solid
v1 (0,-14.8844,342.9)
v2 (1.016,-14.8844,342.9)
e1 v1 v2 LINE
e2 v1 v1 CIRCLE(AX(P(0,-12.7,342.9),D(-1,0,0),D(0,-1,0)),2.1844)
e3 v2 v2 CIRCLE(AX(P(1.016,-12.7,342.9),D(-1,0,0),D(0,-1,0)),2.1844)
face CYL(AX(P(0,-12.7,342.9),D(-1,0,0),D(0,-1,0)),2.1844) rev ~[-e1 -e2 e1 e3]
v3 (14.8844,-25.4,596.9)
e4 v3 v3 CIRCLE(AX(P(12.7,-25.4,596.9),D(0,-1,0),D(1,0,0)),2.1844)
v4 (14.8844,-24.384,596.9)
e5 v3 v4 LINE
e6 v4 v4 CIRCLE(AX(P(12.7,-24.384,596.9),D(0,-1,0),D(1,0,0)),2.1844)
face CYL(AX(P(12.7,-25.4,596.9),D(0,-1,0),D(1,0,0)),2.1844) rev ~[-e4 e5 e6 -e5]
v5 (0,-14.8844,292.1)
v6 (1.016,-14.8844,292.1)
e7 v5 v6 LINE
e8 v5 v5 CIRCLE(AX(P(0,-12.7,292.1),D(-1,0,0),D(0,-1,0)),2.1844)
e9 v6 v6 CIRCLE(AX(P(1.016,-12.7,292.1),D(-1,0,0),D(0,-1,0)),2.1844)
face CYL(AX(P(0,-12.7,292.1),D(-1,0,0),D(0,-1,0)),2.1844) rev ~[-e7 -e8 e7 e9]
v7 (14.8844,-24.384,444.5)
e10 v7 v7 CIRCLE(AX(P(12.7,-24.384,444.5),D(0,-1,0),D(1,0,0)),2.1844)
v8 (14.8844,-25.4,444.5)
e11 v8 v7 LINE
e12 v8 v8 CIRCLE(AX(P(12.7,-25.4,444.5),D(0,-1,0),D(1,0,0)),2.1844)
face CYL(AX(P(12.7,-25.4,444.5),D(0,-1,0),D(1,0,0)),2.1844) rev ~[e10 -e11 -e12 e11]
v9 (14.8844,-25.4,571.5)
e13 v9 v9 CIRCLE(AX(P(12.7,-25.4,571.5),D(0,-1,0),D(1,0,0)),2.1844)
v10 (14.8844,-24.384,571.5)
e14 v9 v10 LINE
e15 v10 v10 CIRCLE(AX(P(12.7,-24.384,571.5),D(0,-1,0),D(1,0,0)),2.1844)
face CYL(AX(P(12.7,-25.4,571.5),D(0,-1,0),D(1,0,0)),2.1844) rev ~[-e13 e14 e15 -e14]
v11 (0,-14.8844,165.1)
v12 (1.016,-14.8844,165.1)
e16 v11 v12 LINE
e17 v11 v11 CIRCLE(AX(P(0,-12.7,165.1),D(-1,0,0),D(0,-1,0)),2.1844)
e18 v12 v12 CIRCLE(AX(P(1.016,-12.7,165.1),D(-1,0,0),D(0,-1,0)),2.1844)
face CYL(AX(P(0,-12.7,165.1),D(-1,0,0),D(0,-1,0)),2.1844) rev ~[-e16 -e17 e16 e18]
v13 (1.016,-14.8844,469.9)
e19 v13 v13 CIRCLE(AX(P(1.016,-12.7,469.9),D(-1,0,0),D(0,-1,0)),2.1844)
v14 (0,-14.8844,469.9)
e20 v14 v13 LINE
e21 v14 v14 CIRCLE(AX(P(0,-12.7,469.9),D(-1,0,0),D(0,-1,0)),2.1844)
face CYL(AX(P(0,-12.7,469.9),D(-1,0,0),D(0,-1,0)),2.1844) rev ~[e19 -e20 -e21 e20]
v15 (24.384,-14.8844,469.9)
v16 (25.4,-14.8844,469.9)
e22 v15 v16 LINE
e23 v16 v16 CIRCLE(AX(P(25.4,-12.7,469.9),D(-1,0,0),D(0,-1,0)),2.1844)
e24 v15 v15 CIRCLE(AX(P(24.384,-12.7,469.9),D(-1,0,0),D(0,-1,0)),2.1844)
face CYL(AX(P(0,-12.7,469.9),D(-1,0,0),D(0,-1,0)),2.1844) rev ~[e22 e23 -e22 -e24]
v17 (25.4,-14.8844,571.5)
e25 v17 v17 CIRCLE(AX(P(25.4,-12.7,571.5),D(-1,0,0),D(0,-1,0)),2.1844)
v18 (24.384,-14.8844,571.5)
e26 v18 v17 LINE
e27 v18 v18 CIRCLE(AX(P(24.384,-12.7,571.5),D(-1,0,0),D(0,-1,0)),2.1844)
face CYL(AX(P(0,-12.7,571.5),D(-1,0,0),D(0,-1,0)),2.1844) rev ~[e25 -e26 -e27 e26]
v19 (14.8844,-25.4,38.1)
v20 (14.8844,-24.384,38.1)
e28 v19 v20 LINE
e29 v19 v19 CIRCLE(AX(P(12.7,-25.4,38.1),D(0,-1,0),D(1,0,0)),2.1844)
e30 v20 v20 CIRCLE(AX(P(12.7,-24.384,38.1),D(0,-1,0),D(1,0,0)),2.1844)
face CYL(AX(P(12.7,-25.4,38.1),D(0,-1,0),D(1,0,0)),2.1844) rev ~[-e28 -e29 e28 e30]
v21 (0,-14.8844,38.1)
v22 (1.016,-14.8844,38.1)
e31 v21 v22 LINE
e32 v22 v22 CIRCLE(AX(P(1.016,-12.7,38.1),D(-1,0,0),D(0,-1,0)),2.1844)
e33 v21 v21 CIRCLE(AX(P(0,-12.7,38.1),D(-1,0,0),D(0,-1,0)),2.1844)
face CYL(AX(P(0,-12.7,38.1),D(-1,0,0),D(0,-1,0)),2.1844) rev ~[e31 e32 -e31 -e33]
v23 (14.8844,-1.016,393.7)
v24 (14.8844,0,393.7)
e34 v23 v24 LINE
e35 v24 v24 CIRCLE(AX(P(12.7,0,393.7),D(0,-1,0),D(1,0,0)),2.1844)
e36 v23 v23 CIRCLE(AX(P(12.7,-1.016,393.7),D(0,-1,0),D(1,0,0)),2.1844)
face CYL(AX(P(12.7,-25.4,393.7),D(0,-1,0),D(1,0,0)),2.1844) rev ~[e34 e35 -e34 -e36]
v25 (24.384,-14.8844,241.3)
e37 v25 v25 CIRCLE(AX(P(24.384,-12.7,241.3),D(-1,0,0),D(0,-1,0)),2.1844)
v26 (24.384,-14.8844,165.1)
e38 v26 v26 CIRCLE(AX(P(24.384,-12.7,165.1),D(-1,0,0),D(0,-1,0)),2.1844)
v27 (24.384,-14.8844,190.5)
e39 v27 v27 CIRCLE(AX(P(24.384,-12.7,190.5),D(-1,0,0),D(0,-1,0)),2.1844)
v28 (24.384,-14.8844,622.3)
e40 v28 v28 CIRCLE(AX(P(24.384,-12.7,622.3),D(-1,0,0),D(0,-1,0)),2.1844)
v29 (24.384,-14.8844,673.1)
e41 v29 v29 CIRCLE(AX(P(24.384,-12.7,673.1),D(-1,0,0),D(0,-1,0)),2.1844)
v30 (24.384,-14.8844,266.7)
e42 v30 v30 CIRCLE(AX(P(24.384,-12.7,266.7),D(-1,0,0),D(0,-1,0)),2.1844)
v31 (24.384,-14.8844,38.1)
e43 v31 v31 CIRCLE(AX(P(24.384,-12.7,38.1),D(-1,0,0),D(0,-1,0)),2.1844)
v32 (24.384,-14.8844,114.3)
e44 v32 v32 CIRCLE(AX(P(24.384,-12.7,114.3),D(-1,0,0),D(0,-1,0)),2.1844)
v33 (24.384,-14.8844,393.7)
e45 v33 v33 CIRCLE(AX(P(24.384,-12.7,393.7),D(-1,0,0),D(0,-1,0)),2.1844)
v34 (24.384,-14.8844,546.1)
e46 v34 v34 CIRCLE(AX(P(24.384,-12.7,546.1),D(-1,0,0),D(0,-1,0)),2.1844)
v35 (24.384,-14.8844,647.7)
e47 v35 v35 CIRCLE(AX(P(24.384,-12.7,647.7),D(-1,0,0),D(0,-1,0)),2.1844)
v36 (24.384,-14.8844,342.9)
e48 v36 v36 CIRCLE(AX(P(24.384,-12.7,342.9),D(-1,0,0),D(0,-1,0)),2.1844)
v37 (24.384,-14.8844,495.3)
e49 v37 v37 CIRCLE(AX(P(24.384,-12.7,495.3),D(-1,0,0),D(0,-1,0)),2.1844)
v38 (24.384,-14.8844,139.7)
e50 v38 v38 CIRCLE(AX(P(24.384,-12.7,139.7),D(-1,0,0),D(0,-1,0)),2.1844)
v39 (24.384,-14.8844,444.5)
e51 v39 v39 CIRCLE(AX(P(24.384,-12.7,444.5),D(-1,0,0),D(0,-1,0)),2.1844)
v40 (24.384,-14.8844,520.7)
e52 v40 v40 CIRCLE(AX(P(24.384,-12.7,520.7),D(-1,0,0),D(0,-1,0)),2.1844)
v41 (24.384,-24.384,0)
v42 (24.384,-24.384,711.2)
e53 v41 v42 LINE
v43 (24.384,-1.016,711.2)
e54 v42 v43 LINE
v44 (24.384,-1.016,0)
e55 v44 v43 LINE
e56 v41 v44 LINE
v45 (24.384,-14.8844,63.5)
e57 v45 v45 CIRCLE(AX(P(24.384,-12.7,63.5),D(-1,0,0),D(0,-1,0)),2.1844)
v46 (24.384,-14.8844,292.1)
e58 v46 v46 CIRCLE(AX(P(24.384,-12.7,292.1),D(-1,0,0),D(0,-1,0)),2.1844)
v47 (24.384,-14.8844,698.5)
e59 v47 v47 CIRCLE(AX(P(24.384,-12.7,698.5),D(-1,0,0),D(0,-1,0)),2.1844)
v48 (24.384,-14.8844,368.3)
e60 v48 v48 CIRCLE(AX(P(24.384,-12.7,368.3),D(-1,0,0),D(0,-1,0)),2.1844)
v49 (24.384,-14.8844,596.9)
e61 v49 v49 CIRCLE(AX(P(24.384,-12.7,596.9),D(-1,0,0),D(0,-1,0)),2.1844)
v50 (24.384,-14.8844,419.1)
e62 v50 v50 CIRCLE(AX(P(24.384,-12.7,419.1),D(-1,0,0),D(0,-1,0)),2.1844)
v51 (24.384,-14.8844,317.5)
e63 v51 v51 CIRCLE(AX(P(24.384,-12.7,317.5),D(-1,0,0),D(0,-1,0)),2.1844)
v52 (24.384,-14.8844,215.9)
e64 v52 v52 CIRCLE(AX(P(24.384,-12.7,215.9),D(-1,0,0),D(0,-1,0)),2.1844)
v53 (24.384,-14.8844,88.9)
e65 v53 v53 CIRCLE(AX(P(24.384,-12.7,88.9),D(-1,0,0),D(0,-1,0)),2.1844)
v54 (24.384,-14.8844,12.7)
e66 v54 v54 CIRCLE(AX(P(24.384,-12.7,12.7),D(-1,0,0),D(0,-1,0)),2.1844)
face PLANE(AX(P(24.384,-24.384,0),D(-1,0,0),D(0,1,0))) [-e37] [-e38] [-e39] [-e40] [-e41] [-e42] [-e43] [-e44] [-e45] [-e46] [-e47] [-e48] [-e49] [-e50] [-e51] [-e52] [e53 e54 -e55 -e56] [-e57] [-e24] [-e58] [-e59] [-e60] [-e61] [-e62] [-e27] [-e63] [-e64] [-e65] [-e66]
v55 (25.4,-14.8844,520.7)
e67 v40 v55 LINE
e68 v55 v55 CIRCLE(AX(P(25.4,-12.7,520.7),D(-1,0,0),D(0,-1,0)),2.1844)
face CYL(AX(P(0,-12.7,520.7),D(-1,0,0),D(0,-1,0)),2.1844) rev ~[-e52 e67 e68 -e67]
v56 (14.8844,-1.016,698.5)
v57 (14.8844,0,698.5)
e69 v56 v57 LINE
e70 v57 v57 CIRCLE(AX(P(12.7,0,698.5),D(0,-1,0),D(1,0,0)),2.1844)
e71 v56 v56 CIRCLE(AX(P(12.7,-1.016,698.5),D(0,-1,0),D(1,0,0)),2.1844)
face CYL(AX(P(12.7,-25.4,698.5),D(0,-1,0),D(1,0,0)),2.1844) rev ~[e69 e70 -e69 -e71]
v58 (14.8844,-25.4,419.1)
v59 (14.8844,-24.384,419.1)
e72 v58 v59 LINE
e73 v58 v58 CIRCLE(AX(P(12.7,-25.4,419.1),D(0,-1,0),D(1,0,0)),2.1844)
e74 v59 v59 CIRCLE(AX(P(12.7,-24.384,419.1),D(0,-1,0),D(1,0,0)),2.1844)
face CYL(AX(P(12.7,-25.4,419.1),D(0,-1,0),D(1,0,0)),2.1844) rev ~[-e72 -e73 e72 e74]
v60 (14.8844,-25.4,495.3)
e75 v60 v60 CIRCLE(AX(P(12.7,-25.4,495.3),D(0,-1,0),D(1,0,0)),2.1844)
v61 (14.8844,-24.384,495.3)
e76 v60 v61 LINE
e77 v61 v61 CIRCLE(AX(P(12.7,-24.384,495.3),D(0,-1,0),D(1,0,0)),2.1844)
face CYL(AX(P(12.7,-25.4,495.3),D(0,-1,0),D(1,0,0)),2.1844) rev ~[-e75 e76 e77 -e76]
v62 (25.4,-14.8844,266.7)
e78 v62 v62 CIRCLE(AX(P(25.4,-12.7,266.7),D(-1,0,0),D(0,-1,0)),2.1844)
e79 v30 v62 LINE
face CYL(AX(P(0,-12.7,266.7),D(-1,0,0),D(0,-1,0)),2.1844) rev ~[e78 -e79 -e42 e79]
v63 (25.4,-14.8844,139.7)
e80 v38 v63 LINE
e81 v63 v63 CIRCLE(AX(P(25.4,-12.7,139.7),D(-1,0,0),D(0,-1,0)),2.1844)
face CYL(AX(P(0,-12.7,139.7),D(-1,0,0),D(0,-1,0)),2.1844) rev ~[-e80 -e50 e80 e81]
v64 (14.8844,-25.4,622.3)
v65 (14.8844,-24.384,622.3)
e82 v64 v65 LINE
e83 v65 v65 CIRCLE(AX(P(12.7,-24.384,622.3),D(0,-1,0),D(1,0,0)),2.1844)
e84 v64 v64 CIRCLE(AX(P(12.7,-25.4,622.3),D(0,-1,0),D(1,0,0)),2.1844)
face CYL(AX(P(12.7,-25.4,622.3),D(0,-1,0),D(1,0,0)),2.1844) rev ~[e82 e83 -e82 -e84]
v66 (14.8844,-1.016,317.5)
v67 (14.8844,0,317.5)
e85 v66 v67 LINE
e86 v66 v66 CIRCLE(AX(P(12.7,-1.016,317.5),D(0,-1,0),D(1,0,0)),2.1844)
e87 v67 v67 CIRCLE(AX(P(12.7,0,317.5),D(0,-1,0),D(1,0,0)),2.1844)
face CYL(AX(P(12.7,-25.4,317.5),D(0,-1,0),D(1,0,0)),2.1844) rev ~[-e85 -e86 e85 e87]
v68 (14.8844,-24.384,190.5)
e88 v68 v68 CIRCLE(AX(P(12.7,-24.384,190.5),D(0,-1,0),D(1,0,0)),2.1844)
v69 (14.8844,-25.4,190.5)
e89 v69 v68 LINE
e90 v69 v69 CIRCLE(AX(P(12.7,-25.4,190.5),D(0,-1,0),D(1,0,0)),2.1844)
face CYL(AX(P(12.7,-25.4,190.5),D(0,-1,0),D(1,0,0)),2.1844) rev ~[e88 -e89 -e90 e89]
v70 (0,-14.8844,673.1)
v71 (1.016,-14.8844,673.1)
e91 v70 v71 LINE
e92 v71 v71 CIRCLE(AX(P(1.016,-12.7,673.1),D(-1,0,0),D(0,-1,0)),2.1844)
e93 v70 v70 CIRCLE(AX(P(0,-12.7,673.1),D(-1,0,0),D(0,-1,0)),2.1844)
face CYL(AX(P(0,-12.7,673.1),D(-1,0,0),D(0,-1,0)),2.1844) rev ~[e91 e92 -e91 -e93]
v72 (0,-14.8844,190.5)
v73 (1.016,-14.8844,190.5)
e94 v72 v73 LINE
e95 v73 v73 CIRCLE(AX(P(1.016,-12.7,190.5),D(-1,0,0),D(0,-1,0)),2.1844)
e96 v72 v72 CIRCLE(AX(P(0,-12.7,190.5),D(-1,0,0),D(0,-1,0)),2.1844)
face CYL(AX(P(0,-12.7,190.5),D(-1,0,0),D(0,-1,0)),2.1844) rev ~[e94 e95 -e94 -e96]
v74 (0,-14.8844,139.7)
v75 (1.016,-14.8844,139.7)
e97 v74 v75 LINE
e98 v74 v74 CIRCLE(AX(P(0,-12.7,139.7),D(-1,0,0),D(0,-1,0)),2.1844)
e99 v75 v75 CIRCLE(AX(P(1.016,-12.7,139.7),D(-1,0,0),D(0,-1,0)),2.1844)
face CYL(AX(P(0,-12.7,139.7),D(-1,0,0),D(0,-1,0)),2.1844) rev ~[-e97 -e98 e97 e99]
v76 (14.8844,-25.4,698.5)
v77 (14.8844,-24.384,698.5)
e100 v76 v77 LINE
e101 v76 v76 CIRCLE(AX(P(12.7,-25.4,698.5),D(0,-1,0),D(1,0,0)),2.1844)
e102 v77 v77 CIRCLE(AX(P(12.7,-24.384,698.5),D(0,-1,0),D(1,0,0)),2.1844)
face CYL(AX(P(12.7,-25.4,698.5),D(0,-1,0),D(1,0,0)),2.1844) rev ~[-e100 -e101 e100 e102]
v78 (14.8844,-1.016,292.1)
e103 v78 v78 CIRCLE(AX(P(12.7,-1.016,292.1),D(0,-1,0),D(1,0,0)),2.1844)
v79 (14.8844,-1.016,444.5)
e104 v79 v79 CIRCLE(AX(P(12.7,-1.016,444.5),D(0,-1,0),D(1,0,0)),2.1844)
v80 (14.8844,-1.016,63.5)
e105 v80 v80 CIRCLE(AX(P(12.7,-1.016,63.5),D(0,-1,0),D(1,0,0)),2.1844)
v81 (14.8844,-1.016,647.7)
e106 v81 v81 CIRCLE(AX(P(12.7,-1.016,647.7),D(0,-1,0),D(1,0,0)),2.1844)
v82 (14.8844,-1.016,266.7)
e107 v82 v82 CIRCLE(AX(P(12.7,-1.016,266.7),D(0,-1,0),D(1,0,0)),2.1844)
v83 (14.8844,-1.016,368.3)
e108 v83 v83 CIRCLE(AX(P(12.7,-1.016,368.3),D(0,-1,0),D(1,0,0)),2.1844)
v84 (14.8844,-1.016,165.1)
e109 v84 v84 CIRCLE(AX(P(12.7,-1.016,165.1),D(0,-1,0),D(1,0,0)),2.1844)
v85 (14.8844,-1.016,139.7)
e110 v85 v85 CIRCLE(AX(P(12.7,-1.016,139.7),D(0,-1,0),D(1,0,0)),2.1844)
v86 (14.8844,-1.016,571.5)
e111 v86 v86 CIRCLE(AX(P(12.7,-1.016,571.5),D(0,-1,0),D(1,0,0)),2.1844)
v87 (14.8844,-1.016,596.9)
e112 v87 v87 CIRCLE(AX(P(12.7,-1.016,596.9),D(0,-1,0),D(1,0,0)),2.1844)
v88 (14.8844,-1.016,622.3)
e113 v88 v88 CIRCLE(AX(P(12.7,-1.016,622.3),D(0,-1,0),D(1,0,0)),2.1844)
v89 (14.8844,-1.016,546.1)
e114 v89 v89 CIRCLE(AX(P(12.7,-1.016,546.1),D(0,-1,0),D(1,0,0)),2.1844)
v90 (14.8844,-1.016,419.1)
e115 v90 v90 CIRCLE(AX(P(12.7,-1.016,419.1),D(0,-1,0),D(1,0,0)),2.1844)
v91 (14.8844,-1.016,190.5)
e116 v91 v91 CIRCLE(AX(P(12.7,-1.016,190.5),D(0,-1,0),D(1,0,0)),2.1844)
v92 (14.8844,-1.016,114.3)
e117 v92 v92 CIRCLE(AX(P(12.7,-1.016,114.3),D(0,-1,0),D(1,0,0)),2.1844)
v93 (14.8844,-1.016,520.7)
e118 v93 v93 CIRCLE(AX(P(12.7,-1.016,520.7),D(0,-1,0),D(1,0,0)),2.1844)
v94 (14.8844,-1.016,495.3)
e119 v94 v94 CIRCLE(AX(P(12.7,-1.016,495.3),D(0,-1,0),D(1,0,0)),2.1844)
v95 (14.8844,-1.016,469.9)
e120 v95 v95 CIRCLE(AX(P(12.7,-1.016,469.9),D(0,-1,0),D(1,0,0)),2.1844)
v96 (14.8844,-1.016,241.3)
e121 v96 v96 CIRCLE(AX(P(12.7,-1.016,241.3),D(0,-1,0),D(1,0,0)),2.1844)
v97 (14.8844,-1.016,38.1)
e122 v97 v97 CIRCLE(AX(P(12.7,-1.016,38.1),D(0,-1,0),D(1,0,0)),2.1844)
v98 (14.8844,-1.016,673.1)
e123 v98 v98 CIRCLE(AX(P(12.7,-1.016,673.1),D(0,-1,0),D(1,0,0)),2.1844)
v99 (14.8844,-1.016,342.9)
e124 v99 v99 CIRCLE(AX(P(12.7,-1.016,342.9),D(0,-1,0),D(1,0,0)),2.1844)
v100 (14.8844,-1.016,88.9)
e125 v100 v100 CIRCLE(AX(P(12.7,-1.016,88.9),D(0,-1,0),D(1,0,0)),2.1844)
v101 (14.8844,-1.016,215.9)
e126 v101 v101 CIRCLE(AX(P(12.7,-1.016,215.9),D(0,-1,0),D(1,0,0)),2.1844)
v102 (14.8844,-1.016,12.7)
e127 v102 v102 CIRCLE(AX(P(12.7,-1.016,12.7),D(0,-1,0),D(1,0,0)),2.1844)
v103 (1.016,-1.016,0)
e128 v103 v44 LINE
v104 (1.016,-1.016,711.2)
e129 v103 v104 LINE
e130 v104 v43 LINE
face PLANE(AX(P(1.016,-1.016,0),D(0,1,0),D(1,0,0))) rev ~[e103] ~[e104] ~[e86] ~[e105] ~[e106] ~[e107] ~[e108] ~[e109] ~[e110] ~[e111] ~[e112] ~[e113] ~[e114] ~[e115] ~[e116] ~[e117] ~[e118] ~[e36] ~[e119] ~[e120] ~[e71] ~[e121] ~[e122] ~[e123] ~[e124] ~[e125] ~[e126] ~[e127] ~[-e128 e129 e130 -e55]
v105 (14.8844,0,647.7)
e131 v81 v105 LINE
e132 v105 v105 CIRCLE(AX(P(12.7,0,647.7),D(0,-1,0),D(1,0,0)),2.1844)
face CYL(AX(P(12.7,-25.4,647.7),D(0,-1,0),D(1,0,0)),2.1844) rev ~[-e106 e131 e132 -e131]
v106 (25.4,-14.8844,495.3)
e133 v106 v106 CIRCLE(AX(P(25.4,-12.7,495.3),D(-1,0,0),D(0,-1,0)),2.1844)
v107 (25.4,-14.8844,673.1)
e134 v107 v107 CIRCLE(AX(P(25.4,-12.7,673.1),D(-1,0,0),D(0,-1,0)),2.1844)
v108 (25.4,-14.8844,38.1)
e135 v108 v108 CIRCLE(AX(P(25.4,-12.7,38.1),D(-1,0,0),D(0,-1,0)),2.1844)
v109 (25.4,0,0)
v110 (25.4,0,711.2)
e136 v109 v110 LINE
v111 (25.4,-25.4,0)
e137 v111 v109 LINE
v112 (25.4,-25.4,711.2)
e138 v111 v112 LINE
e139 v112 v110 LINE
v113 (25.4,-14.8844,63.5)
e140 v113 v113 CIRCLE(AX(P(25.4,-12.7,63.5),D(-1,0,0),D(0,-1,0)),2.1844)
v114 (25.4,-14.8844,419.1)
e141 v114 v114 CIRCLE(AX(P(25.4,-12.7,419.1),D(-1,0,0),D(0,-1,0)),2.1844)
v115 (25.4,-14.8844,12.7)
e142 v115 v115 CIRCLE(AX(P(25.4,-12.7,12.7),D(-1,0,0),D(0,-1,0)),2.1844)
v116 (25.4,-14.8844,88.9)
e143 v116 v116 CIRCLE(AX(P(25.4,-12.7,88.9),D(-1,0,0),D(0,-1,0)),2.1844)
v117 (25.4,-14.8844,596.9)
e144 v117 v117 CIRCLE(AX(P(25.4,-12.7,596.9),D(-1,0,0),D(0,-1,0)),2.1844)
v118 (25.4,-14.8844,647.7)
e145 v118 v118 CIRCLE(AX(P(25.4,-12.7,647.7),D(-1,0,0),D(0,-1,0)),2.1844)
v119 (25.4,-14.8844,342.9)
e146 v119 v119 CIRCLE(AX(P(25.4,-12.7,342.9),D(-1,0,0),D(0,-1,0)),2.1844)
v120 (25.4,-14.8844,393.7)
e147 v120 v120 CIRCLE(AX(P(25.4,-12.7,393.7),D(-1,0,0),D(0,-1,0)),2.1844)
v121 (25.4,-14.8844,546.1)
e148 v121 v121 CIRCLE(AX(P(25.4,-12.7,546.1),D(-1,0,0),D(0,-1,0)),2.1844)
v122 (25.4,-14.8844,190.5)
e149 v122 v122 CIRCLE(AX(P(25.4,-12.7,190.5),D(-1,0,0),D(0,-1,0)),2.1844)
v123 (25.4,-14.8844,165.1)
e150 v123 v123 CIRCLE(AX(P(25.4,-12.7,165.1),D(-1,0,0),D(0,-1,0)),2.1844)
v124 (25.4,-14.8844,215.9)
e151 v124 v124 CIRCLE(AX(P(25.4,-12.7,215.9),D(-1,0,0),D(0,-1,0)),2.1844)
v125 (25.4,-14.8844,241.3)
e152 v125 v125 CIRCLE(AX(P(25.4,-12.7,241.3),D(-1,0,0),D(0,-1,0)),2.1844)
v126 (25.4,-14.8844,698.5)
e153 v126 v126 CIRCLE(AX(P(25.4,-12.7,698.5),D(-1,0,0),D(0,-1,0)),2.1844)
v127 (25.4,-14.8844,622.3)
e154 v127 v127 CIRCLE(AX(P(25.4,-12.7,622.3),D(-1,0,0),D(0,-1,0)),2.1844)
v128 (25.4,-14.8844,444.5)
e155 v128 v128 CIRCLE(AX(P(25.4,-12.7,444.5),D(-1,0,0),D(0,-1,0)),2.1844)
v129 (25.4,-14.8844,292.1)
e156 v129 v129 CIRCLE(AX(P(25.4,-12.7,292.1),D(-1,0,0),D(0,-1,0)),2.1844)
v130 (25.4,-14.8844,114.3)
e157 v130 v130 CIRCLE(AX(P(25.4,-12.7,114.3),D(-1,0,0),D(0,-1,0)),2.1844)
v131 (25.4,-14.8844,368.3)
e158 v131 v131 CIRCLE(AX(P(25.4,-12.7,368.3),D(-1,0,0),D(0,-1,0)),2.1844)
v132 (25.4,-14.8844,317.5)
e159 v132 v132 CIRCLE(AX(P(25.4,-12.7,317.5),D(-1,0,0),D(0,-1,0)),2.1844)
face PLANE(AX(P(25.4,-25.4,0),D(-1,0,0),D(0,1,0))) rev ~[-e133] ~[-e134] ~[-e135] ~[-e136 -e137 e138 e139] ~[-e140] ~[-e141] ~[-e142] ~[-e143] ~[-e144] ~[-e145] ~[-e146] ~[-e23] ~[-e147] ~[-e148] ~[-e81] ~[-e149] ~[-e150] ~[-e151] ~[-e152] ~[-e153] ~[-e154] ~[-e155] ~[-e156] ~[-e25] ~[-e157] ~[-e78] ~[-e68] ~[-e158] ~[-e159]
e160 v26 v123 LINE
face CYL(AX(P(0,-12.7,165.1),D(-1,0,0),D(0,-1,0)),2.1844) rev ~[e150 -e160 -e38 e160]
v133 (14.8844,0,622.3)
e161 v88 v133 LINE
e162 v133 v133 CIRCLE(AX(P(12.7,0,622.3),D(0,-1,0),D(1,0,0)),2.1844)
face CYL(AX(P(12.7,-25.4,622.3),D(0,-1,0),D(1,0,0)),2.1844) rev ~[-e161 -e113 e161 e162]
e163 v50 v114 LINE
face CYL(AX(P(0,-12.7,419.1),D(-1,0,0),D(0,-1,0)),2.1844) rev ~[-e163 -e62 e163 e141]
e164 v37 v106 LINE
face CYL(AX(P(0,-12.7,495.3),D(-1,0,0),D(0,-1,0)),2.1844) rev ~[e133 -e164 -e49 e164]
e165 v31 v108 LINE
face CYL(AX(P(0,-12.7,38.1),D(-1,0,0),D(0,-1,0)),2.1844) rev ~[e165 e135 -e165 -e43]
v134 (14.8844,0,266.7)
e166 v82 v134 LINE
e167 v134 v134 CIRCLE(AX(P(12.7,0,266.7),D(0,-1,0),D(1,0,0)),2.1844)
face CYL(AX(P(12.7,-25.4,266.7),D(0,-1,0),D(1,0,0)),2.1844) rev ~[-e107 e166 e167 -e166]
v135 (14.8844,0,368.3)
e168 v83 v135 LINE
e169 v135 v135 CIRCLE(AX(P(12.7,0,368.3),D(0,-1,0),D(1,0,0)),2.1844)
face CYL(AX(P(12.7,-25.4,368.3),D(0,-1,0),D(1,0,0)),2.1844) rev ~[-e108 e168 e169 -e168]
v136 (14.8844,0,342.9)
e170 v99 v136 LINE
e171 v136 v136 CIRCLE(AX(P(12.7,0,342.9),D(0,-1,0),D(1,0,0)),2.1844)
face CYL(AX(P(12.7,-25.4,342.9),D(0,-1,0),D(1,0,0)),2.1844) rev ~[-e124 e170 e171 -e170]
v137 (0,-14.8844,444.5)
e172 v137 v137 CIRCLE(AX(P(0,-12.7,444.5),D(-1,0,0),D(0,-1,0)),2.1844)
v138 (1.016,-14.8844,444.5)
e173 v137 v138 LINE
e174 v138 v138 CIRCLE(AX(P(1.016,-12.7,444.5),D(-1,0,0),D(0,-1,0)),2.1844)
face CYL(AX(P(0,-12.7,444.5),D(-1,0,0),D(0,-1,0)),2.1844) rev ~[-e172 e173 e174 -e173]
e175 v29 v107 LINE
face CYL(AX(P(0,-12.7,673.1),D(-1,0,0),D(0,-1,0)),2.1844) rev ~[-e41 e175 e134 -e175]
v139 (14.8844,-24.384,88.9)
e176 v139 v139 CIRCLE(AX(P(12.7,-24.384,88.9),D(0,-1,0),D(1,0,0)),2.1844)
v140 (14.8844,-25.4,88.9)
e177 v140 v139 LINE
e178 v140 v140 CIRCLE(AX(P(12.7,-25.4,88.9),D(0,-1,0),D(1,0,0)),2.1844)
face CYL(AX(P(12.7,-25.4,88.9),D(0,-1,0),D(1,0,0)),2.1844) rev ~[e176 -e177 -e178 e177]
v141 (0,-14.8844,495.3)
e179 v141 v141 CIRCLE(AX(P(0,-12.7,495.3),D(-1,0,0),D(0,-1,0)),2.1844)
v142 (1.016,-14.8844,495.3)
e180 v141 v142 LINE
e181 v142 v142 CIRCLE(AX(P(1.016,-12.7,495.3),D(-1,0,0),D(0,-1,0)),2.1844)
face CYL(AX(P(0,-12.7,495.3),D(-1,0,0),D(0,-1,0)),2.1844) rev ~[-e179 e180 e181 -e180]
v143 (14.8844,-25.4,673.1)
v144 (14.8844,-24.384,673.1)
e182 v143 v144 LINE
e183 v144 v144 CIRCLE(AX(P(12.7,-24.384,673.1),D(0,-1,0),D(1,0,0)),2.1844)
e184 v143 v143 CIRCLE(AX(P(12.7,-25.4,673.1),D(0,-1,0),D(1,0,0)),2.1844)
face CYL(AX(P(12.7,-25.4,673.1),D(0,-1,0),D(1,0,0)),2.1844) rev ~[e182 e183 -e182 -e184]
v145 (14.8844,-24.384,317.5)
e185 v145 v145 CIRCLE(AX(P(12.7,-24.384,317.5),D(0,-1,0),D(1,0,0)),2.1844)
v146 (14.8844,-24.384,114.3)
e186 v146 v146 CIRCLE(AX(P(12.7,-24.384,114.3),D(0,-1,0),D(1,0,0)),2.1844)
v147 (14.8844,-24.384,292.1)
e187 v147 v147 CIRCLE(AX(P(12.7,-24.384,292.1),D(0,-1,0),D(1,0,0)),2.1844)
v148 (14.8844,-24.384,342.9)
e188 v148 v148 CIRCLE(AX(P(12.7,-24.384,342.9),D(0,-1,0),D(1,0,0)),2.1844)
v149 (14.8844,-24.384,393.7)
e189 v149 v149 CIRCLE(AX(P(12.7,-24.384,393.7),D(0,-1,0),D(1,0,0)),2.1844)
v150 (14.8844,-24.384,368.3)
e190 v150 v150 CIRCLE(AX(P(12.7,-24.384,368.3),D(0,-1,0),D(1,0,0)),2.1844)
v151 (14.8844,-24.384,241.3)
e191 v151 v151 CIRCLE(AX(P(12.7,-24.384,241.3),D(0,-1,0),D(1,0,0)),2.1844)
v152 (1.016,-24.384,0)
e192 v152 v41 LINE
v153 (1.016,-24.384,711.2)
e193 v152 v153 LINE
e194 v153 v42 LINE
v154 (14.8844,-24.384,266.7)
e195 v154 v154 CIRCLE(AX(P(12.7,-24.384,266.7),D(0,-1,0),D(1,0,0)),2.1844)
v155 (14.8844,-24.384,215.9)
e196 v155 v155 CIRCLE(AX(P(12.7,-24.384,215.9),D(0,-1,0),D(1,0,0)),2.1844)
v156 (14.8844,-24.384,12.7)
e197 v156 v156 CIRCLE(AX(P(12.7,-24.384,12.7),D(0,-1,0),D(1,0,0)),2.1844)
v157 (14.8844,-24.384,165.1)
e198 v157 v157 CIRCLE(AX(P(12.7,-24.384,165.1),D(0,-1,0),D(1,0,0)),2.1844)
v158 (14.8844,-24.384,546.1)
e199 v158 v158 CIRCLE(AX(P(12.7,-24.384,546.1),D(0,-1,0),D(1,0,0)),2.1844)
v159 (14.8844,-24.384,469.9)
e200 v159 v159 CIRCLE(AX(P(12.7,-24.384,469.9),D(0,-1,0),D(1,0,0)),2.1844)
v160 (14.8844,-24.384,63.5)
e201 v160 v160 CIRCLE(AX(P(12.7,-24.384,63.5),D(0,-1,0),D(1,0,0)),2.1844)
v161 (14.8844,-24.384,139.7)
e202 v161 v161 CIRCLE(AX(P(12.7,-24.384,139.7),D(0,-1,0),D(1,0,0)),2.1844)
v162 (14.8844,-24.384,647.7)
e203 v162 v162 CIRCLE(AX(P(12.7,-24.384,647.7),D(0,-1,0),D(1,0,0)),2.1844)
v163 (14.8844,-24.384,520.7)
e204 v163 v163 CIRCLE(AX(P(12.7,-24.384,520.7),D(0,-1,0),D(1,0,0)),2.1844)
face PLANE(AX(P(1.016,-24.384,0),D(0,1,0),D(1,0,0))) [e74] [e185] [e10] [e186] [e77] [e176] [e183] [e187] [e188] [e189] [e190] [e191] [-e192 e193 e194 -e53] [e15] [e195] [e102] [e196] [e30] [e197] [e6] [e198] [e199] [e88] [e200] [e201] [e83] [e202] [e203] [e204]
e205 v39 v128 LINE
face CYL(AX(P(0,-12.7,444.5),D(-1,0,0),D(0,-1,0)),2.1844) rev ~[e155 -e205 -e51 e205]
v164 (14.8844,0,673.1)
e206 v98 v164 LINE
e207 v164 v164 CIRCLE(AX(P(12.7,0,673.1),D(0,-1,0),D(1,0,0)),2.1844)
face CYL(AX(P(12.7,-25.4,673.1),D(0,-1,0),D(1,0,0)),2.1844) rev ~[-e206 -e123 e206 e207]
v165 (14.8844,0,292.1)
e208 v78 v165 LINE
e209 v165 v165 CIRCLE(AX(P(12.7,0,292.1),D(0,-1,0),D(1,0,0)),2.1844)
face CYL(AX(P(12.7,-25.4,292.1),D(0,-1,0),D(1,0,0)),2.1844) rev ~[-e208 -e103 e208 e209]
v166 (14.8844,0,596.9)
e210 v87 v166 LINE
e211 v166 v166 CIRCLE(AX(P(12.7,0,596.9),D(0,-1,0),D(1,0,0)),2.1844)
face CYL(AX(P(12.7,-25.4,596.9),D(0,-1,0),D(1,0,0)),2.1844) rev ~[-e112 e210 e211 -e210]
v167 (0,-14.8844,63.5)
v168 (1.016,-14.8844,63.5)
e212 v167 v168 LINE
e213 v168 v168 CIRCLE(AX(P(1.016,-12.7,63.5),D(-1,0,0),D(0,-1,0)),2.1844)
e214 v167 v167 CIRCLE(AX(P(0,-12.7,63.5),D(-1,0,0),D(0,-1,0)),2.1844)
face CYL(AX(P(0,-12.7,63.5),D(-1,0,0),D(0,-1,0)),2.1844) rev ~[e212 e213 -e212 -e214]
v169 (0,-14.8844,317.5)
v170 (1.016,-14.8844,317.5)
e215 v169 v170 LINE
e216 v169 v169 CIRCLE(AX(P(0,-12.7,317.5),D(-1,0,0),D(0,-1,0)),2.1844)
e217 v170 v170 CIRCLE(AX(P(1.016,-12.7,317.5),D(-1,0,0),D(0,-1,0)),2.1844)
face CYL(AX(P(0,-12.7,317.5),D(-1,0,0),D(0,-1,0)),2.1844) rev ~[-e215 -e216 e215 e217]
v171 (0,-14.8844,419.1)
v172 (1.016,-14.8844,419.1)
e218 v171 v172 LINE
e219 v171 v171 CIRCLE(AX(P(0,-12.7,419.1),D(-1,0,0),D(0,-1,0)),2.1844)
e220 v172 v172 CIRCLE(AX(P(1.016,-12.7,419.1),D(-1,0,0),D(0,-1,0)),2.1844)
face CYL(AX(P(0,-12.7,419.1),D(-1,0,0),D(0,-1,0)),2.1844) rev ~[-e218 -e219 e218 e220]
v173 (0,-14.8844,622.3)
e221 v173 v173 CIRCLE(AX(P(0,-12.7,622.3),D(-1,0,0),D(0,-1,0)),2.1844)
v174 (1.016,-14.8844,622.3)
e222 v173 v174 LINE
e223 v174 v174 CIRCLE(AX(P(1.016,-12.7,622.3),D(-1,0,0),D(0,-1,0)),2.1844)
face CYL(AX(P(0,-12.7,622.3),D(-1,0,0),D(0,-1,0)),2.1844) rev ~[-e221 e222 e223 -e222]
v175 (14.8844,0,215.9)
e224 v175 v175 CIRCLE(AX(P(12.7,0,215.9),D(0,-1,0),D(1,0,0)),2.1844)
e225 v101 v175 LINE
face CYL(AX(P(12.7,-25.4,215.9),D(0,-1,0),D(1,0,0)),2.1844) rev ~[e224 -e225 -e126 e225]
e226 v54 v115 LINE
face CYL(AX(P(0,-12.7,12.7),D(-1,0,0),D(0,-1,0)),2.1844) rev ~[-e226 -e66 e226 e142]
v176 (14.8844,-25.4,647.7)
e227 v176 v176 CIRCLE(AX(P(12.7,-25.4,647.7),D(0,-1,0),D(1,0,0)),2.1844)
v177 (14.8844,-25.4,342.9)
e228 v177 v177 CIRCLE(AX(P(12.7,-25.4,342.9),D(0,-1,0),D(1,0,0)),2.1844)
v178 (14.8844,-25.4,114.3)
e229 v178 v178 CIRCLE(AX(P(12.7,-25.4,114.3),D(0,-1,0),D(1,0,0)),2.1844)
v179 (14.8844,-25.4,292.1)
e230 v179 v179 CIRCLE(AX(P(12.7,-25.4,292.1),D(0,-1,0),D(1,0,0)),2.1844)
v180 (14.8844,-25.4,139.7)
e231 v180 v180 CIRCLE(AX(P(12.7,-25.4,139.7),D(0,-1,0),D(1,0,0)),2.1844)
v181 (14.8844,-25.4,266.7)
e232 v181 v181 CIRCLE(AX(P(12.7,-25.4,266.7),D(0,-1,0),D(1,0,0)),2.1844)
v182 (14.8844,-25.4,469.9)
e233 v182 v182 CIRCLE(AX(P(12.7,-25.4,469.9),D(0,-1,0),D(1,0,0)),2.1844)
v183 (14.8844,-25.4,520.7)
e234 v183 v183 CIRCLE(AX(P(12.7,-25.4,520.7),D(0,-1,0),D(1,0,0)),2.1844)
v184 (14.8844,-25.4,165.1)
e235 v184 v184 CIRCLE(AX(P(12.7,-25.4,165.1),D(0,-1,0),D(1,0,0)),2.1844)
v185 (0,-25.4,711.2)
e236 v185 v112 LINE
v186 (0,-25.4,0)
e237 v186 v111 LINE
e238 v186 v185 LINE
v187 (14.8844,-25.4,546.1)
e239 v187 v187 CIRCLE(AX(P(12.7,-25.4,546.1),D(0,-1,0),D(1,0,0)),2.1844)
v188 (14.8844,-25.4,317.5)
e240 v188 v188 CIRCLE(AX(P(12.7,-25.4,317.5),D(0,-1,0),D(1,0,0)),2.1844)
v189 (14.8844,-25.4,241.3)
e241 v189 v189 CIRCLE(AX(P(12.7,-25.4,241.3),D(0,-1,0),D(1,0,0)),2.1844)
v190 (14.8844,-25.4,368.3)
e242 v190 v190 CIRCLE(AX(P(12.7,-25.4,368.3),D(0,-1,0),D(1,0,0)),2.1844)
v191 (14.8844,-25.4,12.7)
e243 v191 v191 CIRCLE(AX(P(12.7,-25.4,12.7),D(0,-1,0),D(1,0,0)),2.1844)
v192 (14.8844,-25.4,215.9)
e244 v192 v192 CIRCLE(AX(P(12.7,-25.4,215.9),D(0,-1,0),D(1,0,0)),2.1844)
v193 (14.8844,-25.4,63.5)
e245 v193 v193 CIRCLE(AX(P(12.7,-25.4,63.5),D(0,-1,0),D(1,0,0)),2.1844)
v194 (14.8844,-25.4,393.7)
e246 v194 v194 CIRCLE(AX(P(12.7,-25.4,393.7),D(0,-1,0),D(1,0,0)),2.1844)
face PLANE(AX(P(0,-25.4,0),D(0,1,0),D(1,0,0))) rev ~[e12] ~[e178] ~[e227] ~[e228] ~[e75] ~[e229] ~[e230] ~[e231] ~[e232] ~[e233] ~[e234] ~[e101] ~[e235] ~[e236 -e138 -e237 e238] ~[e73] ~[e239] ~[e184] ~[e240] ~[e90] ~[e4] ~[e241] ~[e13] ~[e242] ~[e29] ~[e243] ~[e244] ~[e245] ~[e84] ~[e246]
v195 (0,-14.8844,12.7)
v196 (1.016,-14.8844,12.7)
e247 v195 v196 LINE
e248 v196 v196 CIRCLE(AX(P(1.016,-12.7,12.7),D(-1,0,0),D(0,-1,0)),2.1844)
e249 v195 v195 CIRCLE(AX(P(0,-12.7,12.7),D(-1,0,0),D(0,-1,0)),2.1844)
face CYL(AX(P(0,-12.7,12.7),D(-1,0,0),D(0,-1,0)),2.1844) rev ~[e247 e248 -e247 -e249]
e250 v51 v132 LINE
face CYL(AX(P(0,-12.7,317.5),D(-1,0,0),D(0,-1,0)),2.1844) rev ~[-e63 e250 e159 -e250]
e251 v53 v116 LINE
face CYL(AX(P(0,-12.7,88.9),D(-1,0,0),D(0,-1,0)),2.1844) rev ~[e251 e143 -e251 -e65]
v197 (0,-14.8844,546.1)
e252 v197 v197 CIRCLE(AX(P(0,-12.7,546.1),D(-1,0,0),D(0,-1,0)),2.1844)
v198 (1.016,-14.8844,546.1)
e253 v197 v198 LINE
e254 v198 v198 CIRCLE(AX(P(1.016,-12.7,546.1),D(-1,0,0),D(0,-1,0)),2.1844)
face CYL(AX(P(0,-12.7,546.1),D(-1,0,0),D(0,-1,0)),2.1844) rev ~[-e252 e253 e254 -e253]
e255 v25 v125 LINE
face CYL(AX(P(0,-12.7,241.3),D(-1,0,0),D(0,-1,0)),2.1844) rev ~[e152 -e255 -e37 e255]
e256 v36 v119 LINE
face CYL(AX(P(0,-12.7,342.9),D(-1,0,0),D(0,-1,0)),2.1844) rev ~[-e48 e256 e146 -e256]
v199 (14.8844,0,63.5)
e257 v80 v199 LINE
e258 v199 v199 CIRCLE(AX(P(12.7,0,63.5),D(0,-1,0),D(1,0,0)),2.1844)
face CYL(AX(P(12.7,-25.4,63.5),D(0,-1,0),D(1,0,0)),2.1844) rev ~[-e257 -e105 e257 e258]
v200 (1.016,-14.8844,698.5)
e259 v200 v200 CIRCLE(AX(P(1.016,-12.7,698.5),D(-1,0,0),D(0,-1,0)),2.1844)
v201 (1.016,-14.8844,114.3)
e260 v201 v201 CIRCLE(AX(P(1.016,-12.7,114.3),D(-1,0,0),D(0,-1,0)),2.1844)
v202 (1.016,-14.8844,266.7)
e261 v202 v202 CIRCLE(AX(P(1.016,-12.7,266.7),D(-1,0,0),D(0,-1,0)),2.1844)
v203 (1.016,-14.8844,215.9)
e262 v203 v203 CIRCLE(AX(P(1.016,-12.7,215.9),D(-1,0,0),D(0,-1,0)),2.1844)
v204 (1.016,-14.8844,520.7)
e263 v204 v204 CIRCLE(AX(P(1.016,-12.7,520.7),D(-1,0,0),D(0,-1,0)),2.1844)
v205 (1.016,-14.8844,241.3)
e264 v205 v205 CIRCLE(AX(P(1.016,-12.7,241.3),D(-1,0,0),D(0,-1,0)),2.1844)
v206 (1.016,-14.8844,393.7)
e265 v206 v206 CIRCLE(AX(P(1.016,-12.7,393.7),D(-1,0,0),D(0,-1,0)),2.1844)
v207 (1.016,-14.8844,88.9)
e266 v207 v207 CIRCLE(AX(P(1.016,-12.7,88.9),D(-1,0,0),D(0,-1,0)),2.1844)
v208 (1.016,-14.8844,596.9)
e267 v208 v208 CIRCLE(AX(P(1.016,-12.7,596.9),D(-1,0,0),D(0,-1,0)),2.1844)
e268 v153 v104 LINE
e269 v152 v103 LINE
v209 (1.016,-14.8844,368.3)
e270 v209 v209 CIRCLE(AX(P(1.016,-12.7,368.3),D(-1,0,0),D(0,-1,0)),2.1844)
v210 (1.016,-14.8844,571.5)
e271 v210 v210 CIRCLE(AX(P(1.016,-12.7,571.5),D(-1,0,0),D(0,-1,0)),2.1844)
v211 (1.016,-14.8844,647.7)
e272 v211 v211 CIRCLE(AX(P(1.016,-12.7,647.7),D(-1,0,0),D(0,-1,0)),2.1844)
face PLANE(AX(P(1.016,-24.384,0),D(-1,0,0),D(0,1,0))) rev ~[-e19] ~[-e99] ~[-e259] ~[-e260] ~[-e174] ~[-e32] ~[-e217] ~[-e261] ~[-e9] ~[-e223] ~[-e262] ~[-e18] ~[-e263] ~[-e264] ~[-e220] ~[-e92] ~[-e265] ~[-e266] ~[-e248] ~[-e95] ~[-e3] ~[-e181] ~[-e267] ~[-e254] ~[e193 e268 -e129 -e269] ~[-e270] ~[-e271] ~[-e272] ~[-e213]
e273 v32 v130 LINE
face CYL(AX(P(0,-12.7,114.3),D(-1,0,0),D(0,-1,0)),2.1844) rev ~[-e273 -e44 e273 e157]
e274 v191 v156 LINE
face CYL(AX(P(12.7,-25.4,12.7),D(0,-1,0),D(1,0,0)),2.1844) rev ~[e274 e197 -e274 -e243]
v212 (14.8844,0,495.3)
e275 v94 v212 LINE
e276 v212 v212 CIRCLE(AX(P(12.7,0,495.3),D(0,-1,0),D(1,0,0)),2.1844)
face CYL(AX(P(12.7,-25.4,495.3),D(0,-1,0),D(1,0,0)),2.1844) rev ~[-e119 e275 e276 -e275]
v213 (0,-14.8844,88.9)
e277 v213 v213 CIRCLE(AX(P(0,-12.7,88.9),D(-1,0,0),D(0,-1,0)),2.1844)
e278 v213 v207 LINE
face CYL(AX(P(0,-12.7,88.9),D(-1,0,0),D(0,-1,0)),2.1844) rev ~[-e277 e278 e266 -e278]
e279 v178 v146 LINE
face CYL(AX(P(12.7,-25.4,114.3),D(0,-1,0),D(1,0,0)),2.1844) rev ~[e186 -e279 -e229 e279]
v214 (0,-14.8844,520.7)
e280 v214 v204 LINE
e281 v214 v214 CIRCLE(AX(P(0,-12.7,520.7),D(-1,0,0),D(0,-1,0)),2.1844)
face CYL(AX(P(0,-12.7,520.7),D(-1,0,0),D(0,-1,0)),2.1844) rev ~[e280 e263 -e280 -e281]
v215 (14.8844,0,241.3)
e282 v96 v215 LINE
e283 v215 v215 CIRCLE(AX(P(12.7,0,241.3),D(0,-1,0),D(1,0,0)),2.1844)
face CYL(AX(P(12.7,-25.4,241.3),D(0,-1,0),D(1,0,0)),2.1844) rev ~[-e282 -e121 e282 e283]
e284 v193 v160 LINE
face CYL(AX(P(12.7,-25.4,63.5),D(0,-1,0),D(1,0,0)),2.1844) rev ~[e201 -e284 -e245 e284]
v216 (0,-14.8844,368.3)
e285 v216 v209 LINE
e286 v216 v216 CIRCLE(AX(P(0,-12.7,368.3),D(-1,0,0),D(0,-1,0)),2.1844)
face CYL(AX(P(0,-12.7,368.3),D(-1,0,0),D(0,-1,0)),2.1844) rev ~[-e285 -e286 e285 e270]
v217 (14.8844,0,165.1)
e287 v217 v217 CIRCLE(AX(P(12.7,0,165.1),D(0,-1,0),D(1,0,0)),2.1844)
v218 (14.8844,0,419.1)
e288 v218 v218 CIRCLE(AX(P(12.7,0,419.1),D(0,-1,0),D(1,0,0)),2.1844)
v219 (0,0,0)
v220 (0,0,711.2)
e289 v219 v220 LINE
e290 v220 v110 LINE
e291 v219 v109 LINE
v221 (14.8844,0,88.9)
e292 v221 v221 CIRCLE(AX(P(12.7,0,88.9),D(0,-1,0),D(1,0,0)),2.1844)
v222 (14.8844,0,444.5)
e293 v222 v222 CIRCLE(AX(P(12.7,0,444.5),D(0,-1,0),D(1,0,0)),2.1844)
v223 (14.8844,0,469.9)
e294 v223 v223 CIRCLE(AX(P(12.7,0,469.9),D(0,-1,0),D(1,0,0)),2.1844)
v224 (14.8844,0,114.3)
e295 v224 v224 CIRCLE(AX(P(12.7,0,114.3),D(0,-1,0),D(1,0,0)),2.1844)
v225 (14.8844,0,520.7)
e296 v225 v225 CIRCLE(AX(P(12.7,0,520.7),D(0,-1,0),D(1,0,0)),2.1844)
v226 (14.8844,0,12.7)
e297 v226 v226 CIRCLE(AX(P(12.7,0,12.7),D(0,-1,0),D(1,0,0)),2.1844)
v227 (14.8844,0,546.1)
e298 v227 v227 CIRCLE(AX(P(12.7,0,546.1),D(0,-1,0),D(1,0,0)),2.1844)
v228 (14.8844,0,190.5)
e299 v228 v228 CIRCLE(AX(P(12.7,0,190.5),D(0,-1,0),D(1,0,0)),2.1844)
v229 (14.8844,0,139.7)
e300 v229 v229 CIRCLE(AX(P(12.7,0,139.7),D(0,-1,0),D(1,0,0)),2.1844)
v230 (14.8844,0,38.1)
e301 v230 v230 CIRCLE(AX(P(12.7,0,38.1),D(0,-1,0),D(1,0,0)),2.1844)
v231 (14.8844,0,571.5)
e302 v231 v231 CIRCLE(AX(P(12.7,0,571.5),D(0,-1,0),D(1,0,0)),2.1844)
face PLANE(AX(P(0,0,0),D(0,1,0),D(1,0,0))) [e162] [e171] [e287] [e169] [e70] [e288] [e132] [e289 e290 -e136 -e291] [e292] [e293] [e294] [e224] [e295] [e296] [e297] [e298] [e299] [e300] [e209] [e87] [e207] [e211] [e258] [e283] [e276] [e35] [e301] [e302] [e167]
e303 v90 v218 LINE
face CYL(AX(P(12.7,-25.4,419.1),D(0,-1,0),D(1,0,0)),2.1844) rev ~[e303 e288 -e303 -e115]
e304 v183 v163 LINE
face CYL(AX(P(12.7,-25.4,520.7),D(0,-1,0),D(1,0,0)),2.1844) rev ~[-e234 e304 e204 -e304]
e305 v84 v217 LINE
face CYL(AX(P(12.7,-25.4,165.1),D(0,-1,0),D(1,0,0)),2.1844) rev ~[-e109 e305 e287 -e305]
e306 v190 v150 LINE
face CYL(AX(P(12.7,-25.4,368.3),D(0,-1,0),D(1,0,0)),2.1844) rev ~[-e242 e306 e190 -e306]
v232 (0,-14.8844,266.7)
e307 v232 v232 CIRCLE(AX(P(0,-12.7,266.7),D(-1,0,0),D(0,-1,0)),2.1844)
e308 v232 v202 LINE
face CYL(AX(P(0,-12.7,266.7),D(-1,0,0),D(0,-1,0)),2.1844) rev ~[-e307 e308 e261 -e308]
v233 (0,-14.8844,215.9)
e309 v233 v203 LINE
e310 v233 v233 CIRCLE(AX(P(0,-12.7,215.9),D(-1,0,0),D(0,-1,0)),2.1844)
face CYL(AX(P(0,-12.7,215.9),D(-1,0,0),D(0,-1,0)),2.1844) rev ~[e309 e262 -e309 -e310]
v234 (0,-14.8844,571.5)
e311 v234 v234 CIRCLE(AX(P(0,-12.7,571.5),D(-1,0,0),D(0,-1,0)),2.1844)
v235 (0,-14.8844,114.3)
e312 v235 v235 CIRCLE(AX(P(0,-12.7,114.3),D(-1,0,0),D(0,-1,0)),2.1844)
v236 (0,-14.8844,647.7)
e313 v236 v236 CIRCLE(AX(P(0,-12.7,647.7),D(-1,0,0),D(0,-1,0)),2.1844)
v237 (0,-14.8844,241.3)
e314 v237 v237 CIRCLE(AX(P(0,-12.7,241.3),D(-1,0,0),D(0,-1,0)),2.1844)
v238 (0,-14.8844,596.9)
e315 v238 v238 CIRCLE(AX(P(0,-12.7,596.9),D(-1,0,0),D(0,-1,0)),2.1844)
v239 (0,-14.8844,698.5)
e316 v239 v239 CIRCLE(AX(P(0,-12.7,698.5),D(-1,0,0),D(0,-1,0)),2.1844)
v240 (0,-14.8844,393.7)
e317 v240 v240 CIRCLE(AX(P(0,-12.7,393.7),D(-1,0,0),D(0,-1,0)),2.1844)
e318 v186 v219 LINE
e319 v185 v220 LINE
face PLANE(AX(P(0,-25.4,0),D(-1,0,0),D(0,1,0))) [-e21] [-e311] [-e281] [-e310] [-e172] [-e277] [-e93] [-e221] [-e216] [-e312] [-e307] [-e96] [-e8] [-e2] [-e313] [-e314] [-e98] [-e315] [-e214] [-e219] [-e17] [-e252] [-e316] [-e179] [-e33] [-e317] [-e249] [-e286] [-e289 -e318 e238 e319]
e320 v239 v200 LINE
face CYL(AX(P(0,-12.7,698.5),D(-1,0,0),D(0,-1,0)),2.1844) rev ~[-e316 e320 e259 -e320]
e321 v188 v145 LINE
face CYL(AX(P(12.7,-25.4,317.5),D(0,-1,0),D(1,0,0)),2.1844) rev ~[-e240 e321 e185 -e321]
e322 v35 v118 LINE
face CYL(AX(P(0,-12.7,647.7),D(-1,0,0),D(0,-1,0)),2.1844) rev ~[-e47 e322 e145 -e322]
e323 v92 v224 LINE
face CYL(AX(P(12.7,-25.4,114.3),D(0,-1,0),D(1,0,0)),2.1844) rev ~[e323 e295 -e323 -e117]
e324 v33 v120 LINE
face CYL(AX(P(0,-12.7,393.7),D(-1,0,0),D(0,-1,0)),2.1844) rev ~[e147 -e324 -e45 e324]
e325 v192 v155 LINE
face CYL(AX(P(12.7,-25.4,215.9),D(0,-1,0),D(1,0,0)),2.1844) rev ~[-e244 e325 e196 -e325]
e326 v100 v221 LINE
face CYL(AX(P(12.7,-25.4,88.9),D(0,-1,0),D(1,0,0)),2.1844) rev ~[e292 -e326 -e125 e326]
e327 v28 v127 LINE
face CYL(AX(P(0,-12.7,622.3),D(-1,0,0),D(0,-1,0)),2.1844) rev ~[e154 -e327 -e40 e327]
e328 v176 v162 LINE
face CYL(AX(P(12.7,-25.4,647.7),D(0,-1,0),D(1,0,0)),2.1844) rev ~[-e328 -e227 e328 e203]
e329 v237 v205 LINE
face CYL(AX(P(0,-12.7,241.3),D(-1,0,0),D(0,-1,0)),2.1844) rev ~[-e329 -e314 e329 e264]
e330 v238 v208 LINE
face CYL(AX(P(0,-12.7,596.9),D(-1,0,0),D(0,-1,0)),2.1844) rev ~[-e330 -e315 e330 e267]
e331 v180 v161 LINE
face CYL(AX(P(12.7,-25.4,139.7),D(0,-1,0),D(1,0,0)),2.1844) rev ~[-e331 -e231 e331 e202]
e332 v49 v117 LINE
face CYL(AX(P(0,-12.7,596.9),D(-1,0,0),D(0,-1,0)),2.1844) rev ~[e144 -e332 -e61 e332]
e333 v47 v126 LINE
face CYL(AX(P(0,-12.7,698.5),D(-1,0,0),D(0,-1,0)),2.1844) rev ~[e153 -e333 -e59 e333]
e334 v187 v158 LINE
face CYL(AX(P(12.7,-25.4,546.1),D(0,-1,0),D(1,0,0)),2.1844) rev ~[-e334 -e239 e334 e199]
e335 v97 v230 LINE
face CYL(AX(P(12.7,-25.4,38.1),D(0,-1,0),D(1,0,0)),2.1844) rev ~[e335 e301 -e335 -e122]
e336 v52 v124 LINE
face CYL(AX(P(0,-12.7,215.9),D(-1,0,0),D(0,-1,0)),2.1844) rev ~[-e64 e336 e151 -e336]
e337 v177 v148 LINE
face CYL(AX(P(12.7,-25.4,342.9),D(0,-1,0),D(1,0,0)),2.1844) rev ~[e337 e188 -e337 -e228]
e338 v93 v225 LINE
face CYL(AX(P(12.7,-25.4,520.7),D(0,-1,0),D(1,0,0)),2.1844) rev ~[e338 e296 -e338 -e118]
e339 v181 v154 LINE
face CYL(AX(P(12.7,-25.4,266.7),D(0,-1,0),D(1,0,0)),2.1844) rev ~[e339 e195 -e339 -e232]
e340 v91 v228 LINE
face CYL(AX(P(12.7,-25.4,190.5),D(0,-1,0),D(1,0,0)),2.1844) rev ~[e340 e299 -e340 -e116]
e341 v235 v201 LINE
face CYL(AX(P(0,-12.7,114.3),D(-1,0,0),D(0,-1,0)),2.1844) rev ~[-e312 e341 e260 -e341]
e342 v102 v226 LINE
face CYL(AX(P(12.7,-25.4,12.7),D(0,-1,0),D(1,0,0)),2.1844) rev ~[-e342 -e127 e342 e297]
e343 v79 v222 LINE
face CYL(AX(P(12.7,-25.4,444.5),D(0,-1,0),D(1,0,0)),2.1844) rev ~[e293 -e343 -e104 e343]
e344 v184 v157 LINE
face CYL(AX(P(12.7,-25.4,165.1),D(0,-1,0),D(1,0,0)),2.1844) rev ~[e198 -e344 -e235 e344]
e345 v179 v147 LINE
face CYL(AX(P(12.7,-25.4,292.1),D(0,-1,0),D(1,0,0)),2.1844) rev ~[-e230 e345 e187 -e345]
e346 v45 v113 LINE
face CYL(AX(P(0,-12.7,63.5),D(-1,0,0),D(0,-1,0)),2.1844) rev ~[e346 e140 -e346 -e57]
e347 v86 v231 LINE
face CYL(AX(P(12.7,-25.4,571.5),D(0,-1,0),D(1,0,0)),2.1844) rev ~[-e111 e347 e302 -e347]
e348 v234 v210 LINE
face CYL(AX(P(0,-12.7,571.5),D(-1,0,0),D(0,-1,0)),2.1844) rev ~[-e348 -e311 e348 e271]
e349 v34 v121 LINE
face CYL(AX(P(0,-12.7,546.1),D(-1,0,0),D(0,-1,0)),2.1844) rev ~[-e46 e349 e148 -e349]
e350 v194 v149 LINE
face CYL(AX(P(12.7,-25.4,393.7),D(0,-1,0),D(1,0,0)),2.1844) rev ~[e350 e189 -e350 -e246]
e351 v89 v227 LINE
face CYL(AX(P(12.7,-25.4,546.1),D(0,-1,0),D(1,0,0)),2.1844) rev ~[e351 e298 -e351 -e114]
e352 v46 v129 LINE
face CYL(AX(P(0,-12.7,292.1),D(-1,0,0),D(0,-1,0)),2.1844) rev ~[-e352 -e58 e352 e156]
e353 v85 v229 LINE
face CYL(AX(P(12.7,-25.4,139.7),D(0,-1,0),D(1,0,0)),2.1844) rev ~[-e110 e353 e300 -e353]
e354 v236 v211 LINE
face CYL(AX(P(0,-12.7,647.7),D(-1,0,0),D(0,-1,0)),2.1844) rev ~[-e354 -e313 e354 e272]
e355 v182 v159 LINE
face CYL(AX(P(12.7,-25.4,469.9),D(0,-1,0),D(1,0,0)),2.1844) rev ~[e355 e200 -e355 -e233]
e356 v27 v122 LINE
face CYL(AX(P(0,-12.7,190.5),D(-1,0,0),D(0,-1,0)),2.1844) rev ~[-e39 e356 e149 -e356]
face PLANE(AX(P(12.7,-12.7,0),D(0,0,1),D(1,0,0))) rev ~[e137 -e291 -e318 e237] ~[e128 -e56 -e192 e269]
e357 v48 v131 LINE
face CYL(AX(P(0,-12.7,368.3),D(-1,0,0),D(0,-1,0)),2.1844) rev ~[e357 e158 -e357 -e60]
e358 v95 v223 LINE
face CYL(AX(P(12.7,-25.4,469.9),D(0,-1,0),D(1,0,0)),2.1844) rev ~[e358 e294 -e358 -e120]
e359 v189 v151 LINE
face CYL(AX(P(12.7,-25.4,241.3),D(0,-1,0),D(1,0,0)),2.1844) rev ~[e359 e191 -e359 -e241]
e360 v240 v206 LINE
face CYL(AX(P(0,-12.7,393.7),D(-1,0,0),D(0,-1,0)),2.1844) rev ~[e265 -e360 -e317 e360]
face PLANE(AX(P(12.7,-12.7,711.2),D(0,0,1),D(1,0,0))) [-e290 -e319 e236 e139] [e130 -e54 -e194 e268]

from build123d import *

# Parameters (mm, degrees)
F0_W     = 25.4
F0_H     = 25.4
F0_W_2   = 23.368
F0_H_2   = 23.368
F1_DEPTH = 711.2
F2_R     = 2.1844
F3_DEPTH = 25.4
F4_R     = 2.1844
F5_DEPTH = 25.4


with BuildPart() as f1:
    # F0 (on Top) → F1 (new body)
    with BuildSketch(Plane.XY):
        with Locations((12.7, -12.7)):
            Rectangle(F0_W, F0_H)
        with Locations((12.7, -12.7)):
            Rectangle(F0_W_2, F0_H_2, mode=Mode.SUBTRACT)
    extrude(amount=F1_DEPTH)

    # F2 (on face) → F3 (cut)
    with BuildSketch(Plane.XZ.offset(25.4)):
        with Locations((12.7, 12.7)):
            Circle(F2_R)
        with Locations((12.7, 38.1)):
            Circle(F2_R)
        with Locations((12.7, 241.3)):
            Circle(F2_R)
        with Locations((12.7, 215.9)):
            Circle(F2_R)
        with Locations((12.7, 190.5)):
            Circle(F2_R)
        with Locations((12.7, 165.1)):
            Circle(F2_R)
        with Locations((12.7, 139.7)):
            Circle(F2_R)
        with Locations((12.7, 114.3)):
            Circle(F2_R)
        with Locations((12.7, 88.9)):
            Circle(F2_R)
        with Locations((12.7, 63.5)):
            Circle(F2_R)
        with Locations((12.7, 266.7)):
            Circle(F2_R)
        with Locations((12.7, 292.1)):
            Circle(F2_R)
        with Locations((12.7, 317.5)):
            Circle(F2_R)
        with Locations((12.7, 342.9)):
            Circle(F2_R)
        with Locations((12.7, 368.3)):
            Circle(F2_R)
        with Locations((12.7, 393.7)):
            Circle(F2_R)
        with Locations((12.7, 419.1)):
            Circle(F2_R)
        with Locations((12.7, 444.5)):
            Circle(F2_R)
        with Locations((12.7, 469.9)):
            Circle(F2_R)
        with Locations((12.7, 495.3)):
            Circle(F2_R)
        with Locations((12.7, 520.7)):
            Circle(F2_R)
        with Locations((12.7, 546.1)):
            Circle(F2_R)
        with Locations((12.7, 571.5)):
            Circle(F2_R)
        with Locations((12.7, 596.9)):
            Circle(F2_R)
        with Locations((12.7, 622.3)):
            Circle(F2_R)
        with Locations((12.7, 647.7)):
            Circle(F2_R)
        with Locations((12.7, 673.1)):
            Circle(F2_R)
        with Locations((12.7, 698.5)):
            Circle(F2_R)
    extrude(amount=-F3_DEPTH, mode=Mode.SUBTRACT)

    # F4 (on face) → F5 (cut)
    with BuildSketch(Plane(origin=(0, 0, 0), x_dir=(0, -1, 0), z_dir=(-1, 0, 0))):
        with Locations((12.7, 12.7)):
            Circle(F4_R)
        with Locations((12.7, 38.1)):
            Circle(F4_R)
        with Locations((12.7, 63.5)):
            Circle(F4_R)
        with Locations((12.7, 88.9)):
            Circle(F4_R)
        with Locations((12.7, 114.3)):
            Circle(F4_R)
        with Locations((12.7, 139.7)):
            Circle(F4_R)
        with Locations((12.7, 165.1)):
            Circle(F4_R)
        with Locations((12.7, 190.5)):
            Circle(F4_R)
        with Locations((12.7, 215.9)):
            Circle(F4_R)
        with Locations((12.7, 241.3)):
            Circle(F4_R)
        with Locations((12.7, 266.7)):
            Circle(F4_R)
        with Locations((12.7, 292.1)):
            Circle(F4_R)
        with Locations((12.7, 317.5)):
            Circle(F4_R)
        with Locations((12.7, 342.9)):
            Circle(F4_R)
        with Locations((12.7, 368.3)):
            Circle(F4_R)
        with Locations((12.7, 393.7)):
            Circle(F4_R)
        with Locations((12.7, 419.1)):
            Circle(F4_R)
        with Locations((12.7, 444.5)):
            Circle(F4_R)
        with Locations((12.7, 546.1)):
            Circle(F4_R)
        with Locations((12.7, 520.7)):
            Circle(F4_R)
        with Locations((12.7, 495.3)):
            Circle(F4_R)
        with Locations((12.7, 469.9)):
            Circle(F4_R)
        with Locations((12.7, 571.5)):
            Circle(F4_R)
        with Locations((12.7, 596.9)):
            Circle(F4_R)
        with Locations((12.7, 622.3)):
            Circle(F4_R)
        with Locations((12.7, 647.7)):
            Circle(F4_R)
        with Locations((12.7, 673.1)):
            Circle(F4_R)
        with Locations((12.7, 698.5)):
            Circle(F4_R)
    extrude(amount=-F5_DEPTH, mode=Mode.SUBTRACT)


solid = f1.part
